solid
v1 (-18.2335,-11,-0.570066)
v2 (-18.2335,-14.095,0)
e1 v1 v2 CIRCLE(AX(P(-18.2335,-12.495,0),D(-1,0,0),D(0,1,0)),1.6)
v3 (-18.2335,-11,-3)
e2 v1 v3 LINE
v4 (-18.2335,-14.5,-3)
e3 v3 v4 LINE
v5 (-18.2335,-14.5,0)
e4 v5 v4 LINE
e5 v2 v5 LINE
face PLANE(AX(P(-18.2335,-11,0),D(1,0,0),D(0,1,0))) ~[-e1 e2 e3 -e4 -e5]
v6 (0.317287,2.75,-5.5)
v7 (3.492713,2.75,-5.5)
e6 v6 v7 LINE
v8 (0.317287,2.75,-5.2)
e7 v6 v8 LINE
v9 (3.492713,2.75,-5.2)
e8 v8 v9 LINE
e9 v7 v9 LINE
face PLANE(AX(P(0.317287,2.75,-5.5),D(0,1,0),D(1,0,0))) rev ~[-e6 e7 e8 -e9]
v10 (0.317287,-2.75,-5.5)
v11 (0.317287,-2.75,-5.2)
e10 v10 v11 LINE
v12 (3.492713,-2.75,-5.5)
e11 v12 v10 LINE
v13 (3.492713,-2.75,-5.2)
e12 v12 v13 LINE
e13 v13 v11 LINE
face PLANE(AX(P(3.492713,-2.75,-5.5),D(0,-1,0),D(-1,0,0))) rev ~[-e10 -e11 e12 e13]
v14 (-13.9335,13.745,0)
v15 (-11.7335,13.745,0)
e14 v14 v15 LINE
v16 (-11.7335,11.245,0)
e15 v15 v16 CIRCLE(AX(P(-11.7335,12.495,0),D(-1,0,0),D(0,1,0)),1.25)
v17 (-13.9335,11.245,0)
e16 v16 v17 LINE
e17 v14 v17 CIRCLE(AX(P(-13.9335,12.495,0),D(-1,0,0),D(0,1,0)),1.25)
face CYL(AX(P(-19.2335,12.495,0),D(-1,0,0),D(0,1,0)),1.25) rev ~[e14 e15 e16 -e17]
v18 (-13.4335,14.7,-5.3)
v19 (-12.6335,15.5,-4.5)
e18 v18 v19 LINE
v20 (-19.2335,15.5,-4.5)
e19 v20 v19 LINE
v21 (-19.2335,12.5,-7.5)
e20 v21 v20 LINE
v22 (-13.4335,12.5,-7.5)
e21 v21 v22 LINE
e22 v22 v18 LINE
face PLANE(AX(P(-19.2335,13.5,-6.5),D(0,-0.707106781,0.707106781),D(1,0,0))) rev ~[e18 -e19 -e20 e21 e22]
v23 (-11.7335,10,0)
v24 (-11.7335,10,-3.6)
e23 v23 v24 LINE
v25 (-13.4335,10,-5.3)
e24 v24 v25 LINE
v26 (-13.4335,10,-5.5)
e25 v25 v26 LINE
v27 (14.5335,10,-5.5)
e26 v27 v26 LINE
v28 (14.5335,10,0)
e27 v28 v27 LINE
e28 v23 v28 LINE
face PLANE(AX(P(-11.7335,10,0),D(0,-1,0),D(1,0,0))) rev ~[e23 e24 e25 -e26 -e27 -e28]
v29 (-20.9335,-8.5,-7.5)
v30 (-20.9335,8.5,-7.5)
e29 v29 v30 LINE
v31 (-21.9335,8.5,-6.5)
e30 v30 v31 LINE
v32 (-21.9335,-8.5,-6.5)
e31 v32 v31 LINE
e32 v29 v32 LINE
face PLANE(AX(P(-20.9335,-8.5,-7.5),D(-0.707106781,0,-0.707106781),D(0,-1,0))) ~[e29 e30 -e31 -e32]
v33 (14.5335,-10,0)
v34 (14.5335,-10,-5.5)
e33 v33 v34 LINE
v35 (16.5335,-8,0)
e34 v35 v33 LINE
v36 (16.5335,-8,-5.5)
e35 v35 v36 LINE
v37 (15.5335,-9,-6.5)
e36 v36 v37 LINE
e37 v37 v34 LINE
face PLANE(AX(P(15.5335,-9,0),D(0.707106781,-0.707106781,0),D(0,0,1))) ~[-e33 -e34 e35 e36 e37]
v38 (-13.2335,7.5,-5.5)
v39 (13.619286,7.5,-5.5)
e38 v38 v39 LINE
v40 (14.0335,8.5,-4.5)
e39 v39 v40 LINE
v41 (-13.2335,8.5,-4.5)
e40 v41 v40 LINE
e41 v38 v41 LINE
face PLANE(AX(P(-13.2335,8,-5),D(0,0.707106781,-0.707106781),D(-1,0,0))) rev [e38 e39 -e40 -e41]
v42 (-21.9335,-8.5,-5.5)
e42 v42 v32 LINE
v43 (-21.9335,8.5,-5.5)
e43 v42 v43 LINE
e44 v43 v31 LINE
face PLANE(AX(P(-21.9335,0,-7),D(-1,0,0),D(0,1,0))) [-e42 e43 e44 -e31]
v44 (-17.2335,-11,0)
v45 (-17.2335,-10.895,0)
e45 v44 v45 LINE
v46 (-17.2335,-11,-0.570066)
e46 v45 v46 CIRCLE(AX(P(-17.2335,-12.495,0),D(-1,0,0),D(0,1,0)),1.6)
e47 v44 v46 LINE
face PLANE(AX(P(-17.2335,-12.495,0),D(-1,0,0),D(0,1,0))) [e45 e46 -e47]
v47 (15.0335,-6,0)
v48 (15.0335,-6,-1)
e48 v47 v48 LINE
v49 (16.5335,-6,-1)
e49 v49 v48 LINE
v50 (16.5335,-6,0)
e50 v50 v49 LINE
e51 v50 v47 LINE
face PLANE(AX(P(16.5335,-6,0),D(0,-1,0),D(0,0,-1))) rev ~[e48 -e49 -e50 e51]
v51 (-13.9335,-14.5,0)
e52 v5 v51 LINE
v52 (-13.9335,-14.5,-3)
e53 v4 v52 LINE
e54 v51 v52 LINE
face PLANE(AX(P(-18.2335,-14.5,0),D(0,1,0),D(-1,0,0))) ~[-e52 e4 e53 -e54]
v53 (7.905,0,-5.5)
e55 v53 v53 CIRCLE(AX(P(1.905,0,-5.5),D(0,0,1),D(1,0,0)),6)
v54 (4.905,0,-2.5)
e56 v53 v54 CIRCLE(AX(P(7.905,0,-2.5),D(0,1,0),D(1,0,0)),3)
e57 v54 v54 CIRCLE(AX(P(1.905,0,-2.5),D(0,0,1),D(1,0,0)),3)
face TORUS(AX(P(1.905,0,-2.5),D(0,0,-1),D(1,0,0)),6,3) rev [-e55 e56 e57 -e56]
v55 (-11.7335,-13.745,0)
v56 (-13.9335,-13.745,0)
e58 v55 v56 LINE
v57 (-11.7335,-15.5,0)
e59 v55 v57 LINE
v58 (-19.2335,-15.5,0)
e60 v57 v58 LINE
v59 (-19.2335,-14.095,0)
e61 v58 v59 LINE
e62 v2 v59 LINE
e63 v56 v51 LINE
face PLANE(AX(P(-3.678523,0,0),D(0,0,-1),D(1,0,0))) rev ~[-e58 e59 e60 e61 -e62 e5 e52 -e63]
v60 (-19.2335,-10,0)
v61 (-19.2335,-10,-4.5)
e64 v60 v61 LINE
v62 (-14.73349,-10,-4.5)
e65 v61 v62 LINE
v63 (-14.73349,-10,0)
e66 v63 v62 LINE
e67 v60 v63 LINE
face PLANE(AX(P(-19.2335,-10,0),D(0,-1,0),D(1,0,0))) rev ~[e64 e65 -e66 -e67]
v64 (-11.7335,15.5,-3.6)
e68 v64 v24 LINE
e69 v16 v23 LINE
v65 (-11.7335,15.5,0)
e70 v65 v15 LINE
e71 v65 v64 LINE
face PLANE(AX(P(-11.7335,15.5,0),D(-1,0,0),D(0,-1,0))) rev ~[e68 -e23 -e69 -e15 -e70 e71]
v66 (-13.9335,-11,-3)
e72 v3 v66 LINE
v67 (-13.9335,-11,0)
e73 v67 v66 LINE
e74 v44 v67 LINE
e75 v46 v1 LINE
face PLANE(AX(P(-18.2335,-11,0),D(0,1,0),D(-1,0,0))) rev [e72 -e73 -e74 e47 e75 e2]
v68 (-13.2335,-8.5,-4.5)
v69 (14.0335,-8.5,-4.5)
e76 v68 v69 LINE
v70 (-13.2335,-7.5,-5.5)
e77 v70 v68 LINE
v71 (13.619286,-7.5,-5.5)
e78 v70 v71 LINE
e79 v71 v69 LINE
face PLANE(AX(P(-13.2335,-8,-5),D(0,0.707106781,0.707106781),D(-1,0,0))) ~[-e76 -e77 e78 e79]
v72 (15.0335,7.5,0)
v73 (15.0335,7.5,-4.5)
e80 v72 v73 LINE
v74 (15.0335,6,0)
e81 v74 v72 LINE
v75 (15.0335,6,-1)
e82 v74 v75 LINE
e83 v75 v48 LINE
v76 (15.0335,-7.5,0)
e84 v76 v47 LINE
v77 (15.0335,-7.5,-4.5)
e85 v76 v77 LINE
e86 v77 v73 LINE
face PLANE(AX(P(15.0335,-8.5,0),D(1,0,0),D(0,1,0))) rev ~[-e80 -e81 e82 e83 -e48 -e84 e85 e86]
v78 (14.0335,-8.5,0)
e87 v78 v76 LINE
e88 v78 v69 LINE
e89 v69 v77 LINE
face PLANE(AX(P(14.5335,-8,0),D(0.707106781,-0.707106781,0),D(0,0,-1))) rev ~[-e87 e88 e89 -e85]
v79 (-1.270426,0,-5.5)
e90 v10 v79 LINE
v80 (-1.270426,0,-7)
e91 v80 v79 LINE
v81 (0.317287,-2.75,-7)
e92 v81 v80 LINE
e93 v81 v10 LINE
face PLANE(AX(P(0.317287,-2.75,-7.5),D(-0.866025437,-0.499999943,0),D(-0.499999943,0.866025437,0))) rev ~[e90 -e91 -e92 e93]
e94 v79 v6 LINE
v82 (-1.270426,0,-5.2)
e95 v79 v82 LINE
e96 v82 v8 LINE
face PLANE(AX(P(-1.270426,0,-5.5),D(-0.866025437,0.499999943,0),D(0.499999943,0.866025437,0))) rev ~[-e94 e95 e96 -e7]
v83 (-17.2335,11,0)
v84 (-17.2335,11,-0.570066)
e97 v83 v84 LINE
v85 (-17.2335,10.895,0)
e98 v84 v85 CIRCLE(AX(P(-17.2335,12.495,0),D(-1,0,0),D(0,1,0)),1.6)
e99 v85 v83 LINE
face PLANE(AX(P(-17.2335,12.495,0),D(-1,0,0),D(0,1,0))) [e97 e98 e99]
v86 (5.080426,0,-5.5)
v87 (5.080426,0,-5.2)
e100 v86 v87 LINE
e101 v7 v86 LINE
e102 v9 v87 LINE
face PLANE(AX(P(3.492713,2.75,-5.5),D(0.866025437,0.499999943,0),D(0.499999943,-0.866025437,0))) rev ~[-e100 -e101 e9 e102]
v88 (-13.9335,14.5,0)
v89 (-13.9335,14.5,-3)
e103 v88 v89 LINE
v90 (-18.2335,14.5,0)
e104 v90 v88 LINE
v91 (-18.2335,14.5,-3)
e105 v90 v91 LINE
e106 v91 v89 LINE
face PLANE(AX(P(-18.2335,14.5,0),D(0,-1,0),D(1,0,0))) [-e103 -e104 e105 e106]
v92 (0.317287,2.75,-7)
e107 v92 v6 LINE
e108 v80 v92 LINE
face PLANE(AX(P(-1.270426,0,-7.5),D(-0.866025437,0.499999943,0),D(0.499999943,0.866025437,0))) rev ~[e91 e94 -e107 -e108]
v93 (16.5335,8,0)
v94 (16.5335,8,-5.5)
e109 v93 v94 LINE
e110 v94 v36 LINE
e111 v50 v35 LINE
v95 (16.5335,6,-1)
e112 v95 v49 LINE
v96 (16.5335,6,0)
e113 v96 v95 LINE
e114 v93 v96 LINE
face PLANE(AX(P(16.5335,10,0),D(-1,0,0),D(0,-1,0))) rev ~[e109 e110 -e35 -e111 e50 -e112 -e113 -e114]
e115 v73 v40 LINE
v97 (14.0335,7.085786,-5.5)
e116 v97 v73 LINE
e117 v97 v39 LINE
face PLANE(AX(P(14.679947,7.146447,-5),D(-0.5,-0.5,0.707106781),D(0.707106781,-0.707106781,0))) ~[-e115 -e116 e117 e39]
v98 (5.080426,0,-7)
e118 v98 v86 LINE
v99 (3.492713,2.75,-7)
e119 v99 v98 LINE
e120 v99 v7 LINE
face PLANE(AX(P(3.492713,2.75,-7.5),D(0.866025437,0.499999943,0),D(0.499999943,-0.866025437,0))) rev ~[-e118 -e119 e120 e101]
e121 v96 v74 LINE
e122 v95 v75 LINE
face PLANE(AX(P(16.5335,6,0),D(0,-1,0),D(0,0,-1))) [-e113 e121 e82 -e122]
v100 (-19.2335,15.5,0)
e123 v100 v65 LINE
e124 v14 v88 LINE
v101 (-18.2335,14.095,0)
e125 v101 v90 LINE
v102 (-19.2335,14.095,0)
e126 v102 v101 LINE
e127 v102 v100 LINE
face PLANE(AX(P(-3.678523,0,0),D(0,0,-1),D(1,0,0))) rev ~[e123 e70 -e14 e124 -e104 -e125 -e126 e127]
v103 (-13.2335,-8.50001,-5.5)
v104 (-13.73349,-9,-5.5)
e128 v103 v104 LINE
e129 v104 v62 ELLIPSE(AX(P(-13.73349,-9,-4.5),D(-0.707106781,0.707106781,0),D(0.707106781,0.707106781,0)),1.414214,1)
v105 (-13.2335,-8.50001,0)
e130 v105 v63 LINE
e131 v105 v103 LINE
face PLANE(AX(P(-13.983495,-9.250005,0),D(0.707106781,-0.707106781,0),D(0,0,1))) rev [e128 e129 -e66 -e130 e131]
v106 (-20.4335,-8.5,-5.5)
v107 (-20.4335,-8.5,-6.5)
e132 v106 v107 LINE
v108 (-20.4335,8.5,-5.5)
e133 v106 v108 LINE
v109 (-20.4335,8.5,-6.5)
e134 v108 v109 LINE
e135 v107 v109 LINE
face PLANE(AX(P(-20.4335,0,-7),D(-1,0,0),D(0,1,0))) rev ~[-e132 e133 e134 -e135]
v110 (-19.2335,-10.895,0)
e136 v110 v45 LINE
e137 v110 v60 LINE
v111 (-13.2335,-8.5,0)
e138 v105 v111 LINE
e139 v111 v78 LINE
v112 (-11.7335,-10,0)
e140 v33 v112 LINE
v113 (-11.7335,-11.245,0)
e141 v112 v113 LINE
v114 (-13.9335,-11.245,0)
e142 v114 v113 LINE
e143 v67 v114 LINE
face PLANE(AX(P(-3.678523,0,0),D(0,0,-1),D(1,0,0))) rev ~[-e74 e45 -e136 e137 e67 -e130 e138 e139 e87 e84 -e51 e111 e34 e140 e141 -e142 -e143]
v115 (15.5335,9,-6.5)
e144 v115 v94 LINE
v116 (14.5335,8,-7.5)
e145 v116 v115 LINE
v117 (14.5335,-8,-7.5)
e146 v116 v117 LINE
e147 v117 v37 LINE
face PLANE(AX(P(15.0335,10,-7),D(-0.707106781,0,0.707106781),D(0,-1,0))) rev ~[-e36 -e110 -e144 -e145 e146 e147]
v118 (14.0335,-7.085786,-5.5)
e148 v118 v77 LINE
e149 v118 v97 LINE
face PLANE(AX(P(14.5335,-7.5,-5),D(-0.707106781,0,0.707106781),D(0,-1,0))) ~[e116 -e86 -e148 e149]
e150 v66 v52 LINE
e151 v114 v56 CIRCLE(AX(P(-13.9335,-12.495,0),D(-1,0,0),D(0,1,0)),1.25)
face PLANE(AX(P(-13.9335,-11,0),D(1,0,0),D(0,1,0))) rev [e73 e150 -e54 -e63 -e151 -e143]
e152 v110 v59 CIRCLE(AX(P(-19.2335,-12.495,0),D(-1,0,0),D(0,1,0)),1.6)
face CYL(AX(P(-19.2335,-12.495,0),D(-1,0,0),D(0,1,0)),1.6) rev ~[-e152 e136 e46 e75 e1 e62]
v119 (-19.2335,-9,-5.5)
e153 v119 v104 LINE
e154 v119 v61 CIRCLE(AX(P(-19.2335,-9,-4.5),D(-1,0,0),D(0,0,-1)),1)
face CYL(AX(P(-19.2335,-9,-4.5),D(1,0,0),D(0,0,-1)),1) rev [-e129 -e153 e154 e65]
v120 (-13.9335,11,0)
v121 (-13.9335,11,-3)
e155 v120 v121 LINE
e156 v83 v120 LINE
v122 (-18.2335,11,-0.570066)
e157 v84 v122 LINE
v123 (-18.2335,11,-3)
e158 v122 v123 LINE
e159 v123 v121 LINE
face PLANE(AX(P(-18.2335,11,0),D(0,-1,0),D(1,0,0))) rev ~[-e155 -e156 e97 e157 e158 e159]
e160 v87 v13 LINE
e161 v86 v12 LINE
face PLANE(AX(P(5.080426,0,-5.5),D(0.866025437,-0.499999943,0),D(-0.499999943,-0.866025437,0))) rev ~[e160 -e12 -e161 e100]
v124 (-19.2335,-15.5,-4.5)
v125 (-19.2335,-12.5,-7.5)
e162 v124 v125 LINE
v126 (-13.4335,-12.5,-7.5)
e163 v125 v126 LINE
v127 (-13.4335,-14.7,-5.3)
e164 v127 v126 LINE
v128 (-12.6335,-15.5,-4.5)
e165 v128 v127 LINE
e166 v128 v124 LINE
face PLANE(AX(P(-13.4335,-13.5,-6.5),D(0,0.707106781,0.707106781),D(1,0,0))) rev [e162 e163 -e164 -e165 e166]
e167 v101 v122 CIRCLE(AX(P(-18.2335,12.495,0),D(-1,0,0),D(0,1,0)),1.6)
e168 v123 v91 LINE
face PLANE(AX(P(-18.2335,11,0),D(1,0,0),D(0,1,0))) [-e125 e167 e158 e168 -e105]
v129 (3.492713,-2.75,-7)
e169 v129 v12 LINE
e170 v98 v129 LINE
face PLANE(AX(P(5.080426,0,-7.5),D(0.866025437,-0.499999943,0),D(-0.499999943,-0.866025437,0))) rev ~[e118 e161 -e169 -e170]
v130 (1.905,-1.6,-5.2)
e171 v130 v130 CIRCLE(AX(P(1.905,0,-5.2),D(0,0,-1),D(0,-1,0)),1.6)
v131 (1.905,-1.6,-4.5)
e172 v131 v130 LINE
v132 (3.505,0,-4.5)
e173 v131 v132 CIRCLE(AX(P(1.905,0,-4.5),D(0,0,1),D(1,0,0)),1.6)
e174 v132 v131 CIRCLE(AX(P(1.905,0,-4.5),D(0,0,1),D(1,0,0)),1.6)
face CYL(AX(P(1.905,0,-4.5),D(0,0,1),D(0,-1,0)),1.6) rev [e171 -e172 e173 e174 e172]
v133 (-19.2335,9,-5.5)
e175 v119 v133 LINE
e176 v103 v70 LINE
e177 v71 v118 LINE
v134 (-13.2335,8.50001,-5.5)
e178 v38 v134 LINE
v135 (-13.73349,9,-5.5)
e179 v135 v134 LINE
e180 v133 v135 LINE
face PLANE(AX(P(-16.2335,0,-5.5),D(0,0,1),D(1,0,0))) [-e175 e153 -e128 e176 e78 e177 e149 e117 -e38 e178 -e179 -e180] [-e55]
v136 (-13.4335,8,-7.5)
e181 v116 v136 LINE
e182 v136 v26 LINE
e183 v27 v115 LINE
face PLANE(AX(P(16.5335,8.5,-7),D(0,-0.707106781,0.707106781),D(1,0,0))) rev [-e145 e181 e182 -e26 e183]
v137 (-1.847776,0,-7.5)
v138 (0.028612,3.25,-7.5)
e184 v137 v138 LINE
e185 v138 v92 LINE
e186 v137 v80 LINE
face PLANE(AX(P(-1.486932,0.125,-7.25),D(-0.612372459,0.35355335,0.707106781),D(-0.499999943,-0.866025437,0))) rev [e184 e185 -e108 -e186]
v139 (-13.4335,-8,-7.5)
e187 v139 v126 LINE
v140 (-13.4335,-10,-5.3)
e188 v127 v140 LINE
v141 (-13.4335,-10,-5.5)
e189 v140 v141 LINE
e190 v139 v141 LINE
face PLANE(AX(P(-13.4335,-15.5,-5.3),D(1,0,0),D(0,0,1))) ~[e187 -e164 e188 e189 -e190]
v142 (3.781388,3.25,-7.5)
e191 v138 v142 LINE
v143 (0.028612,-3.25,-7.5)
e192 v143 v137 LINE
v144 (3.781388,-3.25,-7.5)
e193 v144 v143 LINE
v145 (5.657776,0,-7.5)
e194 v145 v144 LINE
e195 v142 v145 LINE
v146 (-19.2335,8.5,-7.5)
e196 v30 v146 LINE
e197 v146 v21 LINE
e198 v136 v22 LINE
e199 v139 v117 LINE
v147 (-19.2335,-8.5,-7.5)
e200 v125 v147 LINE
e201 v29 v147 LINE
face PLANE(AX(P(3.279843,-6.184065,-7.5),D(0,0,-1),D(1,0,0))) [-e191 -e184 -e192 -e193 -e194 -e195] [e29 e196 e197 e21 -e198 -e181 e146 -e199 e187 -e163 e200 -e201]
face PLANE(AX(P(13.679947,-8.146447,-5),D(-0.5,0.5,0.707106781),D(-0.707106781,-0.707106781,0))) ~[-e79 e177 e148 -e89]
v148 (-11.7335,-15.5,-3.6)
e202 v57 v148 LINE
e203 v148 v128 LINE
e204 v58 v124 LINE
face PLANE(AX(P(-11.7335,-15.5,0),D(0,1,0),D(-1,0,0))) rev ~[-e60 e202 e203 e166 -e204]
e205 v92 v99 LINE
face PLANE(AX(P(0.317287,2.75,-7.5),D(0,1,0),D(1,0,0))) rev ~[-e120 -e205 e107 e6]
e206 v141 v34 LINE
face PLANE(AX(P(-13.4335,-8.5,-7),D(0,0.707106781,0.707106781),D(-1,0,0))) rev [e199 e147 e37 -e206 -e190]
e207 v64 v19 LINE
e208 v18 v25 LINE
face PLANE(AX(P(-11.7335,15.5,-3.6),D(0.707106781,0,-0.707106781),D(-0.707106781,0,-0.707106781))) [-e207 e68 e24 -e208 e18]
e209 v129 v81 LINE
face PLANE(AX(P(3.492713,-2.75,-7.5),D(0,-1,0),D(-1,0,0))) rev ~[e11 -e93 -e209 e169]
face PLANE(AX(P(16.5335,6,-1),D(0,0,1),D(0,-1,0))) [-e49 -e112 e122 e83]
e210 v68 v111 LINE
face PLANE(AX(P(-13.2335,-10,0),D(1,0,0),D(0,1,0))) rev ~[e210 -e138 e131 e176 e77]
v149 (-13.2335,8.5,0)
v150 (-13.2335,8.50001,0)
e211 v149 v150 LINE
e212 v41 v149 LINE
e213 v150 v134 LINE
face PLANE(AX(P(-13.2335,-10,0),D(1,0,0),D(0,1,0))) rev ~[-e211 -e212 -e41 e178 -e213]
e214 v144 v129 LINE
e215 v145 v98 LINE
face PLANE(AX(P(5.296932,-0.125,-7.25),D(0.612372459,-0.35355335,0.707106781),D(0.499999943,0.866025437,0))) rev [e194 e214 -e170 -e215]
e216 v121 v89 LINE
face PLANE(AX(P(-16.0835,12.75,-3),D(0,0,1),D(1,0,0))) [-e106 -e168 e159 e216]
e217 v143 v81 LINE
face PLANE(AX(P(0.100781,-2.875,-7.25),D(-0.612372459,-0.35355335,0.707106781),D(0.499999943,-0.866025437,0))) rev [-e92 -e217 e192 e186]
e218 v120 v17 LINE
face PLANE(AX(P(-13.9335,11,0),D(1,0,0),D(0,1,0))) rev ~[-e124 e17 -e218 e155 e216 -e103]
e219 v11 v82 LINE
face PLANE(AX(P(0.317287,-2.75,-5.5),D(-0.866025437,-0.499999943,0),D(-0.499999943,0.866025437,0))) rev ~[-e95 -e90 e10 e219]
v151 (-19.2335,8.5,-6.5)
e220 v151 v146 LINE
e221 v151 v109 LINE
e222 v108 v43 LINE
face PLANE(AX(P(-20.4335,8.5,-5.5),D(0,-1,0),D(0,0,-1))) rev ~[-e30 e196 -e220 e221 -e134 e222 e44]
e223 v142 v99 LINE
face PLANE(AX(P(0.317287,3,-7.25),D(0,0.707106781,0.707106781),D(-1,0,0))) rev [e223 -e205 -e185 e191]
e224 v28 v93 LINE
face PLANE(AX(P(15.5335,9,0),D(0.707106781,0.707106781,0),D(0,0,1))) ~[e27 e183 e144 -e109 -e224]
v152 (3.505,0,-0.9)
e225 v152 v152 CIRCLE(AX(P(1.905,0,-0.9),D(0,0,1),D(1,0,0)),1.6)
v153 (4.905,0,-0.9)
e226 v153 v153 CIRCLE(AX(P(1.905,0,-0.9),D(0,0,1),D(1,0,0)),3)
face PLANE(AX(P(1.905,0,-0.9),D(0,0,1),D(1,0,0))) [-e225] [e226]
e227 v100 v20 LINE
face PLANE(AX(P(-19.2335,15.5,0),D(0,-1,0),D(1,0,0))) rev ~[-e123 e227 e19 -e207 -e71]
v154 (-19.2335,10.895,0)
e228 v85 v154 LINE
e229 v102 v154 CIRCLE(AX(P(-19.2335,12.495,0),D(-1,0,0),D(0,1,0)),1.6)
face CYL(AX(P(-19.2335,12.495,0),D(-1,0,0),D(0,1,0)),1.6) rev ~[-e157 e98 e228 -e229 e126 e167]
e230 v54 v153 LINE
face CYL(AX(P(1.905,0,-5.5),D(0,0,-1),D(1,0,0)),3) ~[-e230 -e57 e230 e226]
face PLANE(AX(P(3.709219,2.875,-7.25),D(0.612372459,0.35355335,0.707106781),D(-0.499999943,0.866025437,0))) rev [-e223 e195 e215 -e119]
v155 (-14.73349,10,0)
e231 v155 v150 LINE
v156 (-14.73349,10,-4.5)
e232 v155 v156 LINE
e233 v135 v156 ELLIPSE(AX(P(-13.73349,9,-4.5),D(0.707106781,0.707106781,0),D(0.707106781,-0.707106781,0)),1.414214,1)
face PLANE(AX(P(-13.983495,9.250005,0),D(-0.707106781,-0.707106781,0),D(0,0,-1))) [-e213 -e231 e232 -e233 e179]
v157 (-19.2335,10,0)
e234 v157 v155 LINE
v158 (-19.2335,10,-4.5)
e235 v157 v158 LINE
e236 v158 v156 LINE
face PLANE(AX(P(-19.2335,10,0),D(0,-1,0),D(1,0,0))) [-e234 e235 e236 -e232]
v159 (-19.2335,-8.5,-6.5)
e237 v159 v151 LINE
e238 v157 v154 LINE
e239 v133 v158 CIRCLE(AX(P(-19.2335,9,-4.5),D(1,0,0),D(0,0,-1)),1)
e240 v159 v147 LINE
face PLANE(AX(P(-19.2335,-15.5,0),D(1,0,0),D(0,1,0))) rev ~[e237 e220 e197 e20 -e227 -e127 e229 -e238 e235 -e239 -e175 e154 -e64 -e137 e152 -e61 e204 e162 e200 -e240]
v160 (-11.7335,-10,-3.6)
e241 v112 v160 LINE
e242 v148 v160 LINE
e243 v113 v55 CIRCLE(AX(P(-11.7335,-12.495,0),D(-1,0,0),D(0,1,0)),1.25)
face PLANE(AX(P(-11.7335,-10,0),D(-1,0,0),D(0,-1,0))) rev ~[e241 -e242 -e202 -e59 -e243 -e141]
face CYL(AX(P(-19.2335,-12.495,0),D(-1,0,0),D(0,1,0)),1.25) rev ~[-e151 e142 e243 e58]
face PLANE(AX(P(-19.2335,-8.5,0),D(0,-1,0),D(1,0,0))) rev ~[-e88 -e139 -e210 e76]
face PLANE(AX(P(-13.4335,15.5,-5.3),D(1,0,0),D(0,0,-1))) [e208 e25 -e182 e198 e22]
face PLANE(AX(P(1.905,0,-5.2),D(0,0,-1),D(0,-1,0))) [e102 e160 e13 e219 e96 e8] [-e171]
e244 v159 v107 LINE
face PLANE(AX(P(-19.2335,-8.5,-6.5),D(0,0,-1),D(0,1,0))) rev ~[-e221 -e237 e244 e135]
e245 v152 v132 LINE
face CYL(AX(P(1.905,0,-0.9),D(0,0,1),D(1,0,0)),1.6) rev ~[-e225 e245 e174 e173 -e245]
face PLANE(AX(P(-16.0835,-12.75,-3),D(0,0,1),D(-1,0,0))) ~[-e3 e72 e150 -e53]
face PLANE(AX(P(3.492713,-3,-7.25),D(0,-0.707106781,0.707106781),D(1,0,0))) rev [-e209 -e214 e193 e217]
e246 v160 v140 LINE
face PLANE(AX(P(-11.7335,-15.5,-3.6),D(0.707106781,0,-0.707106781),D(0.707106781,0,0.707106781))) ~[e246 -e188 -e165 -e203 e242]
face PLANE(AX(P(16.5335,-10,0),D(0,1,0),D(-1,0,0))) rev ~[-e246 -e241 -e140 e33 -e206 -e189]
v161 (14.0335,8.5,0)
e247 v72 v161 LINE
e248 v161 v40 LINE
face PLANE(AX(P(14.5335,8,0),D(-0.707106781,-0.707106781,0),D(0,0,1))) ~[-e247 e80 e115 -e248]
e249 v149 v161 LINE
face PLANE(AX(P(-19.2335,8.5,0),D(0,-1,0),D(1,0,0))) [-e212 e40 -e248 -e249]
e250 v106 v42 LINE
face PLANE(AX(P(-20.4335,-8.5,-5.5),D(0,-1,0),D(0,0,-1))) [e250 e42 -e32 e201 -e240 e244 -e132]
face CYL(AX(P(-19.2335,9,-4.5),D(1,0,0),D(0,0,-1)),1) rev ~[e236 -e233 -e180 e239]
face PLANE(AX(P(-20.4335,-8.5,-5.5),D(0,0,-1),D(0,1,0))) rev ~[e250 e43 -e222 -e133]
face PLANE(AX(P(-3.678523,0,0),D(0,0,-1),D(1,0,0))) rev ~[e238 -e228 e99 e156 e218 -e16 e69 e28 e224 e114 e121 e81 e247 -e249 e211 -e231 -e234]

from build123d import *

# Parameters (mm, degrees)
PAD004_DEPTH            = 8.5
SKETCH014_W             = 34.267
SKETCH014_H             = 17
POCKET008_DEPTH         = 5.5
SKETCH015_W             = 6
SKETCH015_H             = 20
POCKET009_DEPTH         = 5.5
SKETCH016_W             = 4.3
SKETCH016_H             = 3.5
POCKET010_DEPTH         = 3
SKETCH017_R             = 1.25
POCKET011_DEPTH         = 35.768
CHAMFER007_SIZE         = 1.49999
POCKET012_DEPTH         = 5.5
CHAMFER008_SIZE         = 4
SKETCH019_W             = 17
SKETCH019_H             = 2
PAD005_DEPTH            = 1.2
SKETCH020_W             = 17
SKETCH020_H             = 3
PAD006_DEPTH            = 1.5
CHAMFER009_SIZE         = 2
SKETCH021_R             = 3
PAD007_DEPTH            = 4.6
FILLET001_R             = 3
CHAMFER010_SIZE         = 3
CHAMFER011_SIZE         = 1
CHAMFER012_SIZE         = 2
SKETCH022_W             = 71.294541
SKETCH022_H             = 63.230997
POCKET013_DEPTH         = 1
SKETCH023_R             = 1.6
POCKET014_DEPTH         = 6.601
POCKET015_DEPTH         = 3
CHAMFER013_SIZE         = 0.5
CHAMFER015_SIZE         = 1
FILLET002_R             = 1
SKETCH028_R             = 1.6
POCKET018_DEPTH         = 2
SKETCH029_W             = 12
SKETCH029_H             = 1
POCKET019_DEPTH         = 5
POCKET019_FACE86_R      = 1.6
PAD010_DEPTH            = 1
PAD010_FACE85_R         = 1.6
POCKET022_DEPTH         = 0.3
BODY001_PLACEMENT_ANGLE = 180


with BuildPart() as part:
    # Sketch013 → Pad004 (new body)
    with BuildSketch(Plane.XY):
        Polygon((-11.7335, -10), (16.5335, -10), (16.5335, 10), (-11.7335, 10), (-11.7335, 15.5), (-19.2335, 15.5), (-19.2335, -15.5), (-11.7335, -15.5), align=None)
    extrude(amount=PAD004_DEPTH)

    # Sketch014 (on Face9 of Pad004) → Pocket008 (cut)
    with BuildSketch(Plane(origin=(0, 0, 0), x_dir=(1, 0, 0), z_dir=(0, 0, -1))):
        with Locations((-2.1, 0)):
            Rectangle(SKETCH014_W, SKETCH014_H)
    extrude(amount=-POCKET008_DEPTH, mode=Mode.SUBTRACT)

    # Sketch015 (on Face4 of Pocket008) → Pocket009 (cut)
    with BuildSketch(Plane(origin=(0, 0, 0), x_dir=(1, 0, 0), z_dir=(0, 0, -1))):
        with Locations((-16.2335, 0)):
            Rectangle(SKETCH015_W, SKETCH015_H)
    extrude(amount=-POCKET009_DEPTH, mode=Mode.SUBTRACT)

    # Sketch016 (on Face4 of Pocket009) → Pocket010 (cut)
    with BuildSketch(Plane(origin=(0, 0, 0), x_dir=(1, 0, 0), z_dir=(0, 0, -1))):
        with Locations((-16.0835, 12.75)):
            Rectangle(SKETCH016_W, SKETCH016_H)
    pocket010 = extrude(amount=-POCKET010_DEPTH, mode=Mode.SUBTRACT)

    # Mirrored002: Pocket010 across Sketch016 H_Axis
    add(pocket010.mirror(Plane(origin=(0, 0, 0), x_dir=(0, 0, -1), z_dir=(0, -1, 0))), mode=Mode.SUBTRACT)

    # Sketch017 (on Face8 of Mirrored002) → Pocket011 (cut, through all)
    with BuildSketch(Plane(origin=(-19.2335, 0, 0), x_dir=(0, -1, 0), z_dir=(-1, 0, 0))):
        with Locations((12.495, 0)):
            Circle(SKETCH017_R)
        with Locations((-12.495, 0)):
            Circle(SKETCH017_R)
    extrude(amount=-POCKET011_DEPTH, mode=Mode.SUBTRACT)

    # Chamfer007
    chamfer007_edges = [part.edges().sort_by_distance(p)[0] for p in [
        (-13.2335, 10, 2.75),
        (-13.2335, -10, 2.75),
    ]]
    chamfer(chamfer007_edges, length=CHAMFER007_SIZE)

    # Sketch018 (on Face8 of Pocket011) → Pocket012 (cut)
    with BuildSketch(Plane.XZ.offset(15.5)):
        Polygon((-11.7335, 3.6), (-13.4335, 5.3), (-13.4335, 8.5), (-11.7335, 8.5), align=None)
    pocket012 = extrude(amount=-POCKET012_DEPTH, mode=Mode.SUBTRACT)

    # Mirrored003: Pocket012 across XZ
    add(pocket012.mirror(Plane.XZ), mode=Mode.SUBTRACT)

    # Chamfer008
    chamfer008_edges = [part.edges().sort_by_distance(p)[0] for p in [
        (-16.3335, -15.5, 8.5),
        (-16.3335, 15.5, 8.5),
    ]]
    chamfer(chamfer008_edges, length=CHAMFER008_SIZE)

    # Sketch019 (on Face1 of Chamfer008) → Pad005 (join)
    with BuildSketch(Plane(origin=(-19.2335, 0, 0), x_dir=(0, -1, 0), z_dir=(-1, 0, 0))):
        with Locations((0, 7.5)):
            Rectangle(SKETCH019_W, SKETCH019_H)
    extrude(amount=PAD005_DEPTH)

    # Sketch020 (on Face23 of Pad005) → Pad006 (join)
    with BuildSketch(Plane(origin=(-20.4335, 0, 0), x_dir=(0, -1, 0), z_dir=(-1, 0, 0))):
        with Locations((0, 7)):
            Rectangle(SKETCH020_W, SKETCH020_H)
    extrude(amount=PAD006_DEPTH)

    # Chamfer009
    chamfer009_edges = [part.edges().sort_by_distance(p)[0] for p in [
        (-21.9335, 0, 8.5),
    ]]
    chamfer(chamfer009_edges, length=CHAMFER009_SIZE)

    # Sketch021 → Pad007 (join)
    with BuildSketch(Plane(origin=(0, 0, 5.5), x_dir=(1, 0, 0), z_dir=(0, 0, -1))):
        with Locations((1.905, 0)):
            Circle(SKETCH021_R)
    extrude(amount=PAD007_DEPTH)

    # Fillet001
    fillet001_edges = [part.edges().sort_by_distance(p)[0] for p in [
        (-1.095, 0, 5.5),
    ]]
    fillet(fillet001_edges, radius=FILLET001_R)

    # Chamfer010
    chamfer010_edges = [part.edges().sort_by_distance(p)[0] for p in [
        (1.55, -10, 8.5),
        (16.5335, 0, 8.5),
        (1.55, 10, 8.5),
    ]]
    chamfer(chamfer010_edges, length=CHAMFER010_SIZE)

    # Chamfer011
    chamfer011_edges = [part.edges().sort_by_distance(p)[0] for p in [
        (15.0335, -8.5, 2.75),
        (15.0335, 8.5, 2.75),
    ]]
    chamfer(chamfer011_edges, length=CHAMFER011_SIZE)

    # Chamfer012
    chamfer012_edges = [part.edges().sort_by_distance(p)[0] for p in [
        (16.5335, -10, 2.75),
        (16.5335, 10, 2.75),
    ]]
    chamfer(chamfer012_edges, length=CHAMFER012_SIZE)

    # Sketch022 (on Face47 of Chamfer012) → Pocket013 (cut)
    with BuildSketch(Plane.XY.offset(8.5)):
        with Locations((3.279843, 6.184065)):
            Rectangle(SKETCH022_W, SKETCH022_H)
    extrude(amount=-POCKET013_DEPTH, mode=Mode.SUBTRACT)

    # Sketch023 (on Face59 of Pocket013) → Pocket014 (cut, through all)
    with BuildSketch(Plane(origin=(0, 0, 0.9), x_dir=(1, 0, 0), z_dir=(0, 0, -1))):
        with Locations((1.905, 0)):
            Circle(SKETCH023_R)
    extrude(amount=-POCKET014_DEPTH, mode=Mode.SUBTRACT)

    # Sketch024 (on Face47 of Pocket014) → Pocket015 (cut)
    with BuildSketch(Plane.XY.offset(7.5)):
        Polygon((3.492713, 2.75), (0.317287, 2.75), (-1.270426, 0), (0.317287, -2.75), (3.492713, -2.75), (5.080426, 0), align=None)
    extrude(amount=-POCKET015_DEPTH, mode=Mode.SUBTRACT)

    # Chamfer013
    chamfer013_edges = [part.edges().sort_by_distance(p)[0] for p in [
        (4.28657, 1.375, 7.5),
        (1.905, 2.75, 7.5),
        (-0.47657, 1.375, 7.5),
        (-0.47657, -1.375, 7.5),
        (1.905, -2.75, 7.5),
        (4.28657, -1.375, 7.5),
    ]]
    chamfer(chamfer013_edges, length=CHAMFER013_SIZE)

    # Chamfer015
    chamfer015_edges = [part.edges().sort_by_distance(p)[0] for p in [
        (0.4, 8.5, 5.5),
        (14.5335, 8, 5.5),
        (15.0335, 0, 5.5),
        (0.4, -8.5, 5.5),
        (14.5335, -8, 5.5),
    ]]
    chamfer(chamfer015_edges, length=CHAMFER015_SIZE)

    # Fillet002
    fillet002_edges = [part.edges().sort_by_distance(p)[0] for p in [
        (-16.983495, 10, 5.5),
        (-16.983495, -10, 5.5),
    ]]
    fillet(fillet002_edges, radius=FILLET002_R)

    # Sketch028 (on Face5 of Fillet002) → Pocket018 (cut)
    with BuildSketch(Plane(origin=(-19.2335, 0, 0), x_dir=(0, -1, 0), z_dir=(-1, 0, 0))):
        with Locations((-12.495, 0)):
            Circle(SKETCH028_R)
        with Locations((12.495, 0)):
            Circle(SKETCH028_R)
    extrude(amount=-POCKET018_DEPTH, mode=Mode.SUBTRACT)

    # Sketch029 (on Face49 of Pocket018) → Pocket019 (cut)
    with BuildSketch(Plane.YZ.offset(16.5335)):
        with Locations((0, 0.5)):
            Rectangle(SKETCH029_W, SKETCH029_H)
    extrude(amount=-POCKET019_DEPTH, mode=Mode.SUBTRACT)

    # Pocket019 Face86 → Pad010 (add)
    with BuildSketch(Plane(origin=(1.905, 0, 4.5), x_dir=(0, 1, 0), z_dir=(0, 0, 1))):
        Polygon((2.75, -1.587713), (2.75, 1.587713), (0, 3.175426), (-2.75, 1.587713), (-2.75, -1.587713), (0, -3.175426), align=None)
        Circle(POCKET019_FACE86_R, mode=Mode.SUBTRACT)
    extrude(amount=PAD010_DEPTH)

    # Pad010 Face85 → Pocket022 (cut)
    with BuildSketch(Plane(origin=(1.905, 0, 5.5), x_dir=(0, 1, 0), z_dir=(0, 0, 1))):
        Polygon((2.75, -1.587713), (2.75, 1.587713), (0, 3.175426), (-2.75, 1.587713), (-2.75, -1.587713), (0, -3.175426), align=None)
        Circle(PAD010_FACE85_R, mode=Mode.SUBTRACT)
    extrude(amount=-POCKET022_DEPTH, mode=Mode.SUBTRACT)


with BuildPart() as part_1:
    # Body001 placement: moved
    add(part.part.rotate(Axis((0, 0, 0), (1, 0, 0)), BODY001_PLACEMENT_ANGLE))


solid = part_1.part
